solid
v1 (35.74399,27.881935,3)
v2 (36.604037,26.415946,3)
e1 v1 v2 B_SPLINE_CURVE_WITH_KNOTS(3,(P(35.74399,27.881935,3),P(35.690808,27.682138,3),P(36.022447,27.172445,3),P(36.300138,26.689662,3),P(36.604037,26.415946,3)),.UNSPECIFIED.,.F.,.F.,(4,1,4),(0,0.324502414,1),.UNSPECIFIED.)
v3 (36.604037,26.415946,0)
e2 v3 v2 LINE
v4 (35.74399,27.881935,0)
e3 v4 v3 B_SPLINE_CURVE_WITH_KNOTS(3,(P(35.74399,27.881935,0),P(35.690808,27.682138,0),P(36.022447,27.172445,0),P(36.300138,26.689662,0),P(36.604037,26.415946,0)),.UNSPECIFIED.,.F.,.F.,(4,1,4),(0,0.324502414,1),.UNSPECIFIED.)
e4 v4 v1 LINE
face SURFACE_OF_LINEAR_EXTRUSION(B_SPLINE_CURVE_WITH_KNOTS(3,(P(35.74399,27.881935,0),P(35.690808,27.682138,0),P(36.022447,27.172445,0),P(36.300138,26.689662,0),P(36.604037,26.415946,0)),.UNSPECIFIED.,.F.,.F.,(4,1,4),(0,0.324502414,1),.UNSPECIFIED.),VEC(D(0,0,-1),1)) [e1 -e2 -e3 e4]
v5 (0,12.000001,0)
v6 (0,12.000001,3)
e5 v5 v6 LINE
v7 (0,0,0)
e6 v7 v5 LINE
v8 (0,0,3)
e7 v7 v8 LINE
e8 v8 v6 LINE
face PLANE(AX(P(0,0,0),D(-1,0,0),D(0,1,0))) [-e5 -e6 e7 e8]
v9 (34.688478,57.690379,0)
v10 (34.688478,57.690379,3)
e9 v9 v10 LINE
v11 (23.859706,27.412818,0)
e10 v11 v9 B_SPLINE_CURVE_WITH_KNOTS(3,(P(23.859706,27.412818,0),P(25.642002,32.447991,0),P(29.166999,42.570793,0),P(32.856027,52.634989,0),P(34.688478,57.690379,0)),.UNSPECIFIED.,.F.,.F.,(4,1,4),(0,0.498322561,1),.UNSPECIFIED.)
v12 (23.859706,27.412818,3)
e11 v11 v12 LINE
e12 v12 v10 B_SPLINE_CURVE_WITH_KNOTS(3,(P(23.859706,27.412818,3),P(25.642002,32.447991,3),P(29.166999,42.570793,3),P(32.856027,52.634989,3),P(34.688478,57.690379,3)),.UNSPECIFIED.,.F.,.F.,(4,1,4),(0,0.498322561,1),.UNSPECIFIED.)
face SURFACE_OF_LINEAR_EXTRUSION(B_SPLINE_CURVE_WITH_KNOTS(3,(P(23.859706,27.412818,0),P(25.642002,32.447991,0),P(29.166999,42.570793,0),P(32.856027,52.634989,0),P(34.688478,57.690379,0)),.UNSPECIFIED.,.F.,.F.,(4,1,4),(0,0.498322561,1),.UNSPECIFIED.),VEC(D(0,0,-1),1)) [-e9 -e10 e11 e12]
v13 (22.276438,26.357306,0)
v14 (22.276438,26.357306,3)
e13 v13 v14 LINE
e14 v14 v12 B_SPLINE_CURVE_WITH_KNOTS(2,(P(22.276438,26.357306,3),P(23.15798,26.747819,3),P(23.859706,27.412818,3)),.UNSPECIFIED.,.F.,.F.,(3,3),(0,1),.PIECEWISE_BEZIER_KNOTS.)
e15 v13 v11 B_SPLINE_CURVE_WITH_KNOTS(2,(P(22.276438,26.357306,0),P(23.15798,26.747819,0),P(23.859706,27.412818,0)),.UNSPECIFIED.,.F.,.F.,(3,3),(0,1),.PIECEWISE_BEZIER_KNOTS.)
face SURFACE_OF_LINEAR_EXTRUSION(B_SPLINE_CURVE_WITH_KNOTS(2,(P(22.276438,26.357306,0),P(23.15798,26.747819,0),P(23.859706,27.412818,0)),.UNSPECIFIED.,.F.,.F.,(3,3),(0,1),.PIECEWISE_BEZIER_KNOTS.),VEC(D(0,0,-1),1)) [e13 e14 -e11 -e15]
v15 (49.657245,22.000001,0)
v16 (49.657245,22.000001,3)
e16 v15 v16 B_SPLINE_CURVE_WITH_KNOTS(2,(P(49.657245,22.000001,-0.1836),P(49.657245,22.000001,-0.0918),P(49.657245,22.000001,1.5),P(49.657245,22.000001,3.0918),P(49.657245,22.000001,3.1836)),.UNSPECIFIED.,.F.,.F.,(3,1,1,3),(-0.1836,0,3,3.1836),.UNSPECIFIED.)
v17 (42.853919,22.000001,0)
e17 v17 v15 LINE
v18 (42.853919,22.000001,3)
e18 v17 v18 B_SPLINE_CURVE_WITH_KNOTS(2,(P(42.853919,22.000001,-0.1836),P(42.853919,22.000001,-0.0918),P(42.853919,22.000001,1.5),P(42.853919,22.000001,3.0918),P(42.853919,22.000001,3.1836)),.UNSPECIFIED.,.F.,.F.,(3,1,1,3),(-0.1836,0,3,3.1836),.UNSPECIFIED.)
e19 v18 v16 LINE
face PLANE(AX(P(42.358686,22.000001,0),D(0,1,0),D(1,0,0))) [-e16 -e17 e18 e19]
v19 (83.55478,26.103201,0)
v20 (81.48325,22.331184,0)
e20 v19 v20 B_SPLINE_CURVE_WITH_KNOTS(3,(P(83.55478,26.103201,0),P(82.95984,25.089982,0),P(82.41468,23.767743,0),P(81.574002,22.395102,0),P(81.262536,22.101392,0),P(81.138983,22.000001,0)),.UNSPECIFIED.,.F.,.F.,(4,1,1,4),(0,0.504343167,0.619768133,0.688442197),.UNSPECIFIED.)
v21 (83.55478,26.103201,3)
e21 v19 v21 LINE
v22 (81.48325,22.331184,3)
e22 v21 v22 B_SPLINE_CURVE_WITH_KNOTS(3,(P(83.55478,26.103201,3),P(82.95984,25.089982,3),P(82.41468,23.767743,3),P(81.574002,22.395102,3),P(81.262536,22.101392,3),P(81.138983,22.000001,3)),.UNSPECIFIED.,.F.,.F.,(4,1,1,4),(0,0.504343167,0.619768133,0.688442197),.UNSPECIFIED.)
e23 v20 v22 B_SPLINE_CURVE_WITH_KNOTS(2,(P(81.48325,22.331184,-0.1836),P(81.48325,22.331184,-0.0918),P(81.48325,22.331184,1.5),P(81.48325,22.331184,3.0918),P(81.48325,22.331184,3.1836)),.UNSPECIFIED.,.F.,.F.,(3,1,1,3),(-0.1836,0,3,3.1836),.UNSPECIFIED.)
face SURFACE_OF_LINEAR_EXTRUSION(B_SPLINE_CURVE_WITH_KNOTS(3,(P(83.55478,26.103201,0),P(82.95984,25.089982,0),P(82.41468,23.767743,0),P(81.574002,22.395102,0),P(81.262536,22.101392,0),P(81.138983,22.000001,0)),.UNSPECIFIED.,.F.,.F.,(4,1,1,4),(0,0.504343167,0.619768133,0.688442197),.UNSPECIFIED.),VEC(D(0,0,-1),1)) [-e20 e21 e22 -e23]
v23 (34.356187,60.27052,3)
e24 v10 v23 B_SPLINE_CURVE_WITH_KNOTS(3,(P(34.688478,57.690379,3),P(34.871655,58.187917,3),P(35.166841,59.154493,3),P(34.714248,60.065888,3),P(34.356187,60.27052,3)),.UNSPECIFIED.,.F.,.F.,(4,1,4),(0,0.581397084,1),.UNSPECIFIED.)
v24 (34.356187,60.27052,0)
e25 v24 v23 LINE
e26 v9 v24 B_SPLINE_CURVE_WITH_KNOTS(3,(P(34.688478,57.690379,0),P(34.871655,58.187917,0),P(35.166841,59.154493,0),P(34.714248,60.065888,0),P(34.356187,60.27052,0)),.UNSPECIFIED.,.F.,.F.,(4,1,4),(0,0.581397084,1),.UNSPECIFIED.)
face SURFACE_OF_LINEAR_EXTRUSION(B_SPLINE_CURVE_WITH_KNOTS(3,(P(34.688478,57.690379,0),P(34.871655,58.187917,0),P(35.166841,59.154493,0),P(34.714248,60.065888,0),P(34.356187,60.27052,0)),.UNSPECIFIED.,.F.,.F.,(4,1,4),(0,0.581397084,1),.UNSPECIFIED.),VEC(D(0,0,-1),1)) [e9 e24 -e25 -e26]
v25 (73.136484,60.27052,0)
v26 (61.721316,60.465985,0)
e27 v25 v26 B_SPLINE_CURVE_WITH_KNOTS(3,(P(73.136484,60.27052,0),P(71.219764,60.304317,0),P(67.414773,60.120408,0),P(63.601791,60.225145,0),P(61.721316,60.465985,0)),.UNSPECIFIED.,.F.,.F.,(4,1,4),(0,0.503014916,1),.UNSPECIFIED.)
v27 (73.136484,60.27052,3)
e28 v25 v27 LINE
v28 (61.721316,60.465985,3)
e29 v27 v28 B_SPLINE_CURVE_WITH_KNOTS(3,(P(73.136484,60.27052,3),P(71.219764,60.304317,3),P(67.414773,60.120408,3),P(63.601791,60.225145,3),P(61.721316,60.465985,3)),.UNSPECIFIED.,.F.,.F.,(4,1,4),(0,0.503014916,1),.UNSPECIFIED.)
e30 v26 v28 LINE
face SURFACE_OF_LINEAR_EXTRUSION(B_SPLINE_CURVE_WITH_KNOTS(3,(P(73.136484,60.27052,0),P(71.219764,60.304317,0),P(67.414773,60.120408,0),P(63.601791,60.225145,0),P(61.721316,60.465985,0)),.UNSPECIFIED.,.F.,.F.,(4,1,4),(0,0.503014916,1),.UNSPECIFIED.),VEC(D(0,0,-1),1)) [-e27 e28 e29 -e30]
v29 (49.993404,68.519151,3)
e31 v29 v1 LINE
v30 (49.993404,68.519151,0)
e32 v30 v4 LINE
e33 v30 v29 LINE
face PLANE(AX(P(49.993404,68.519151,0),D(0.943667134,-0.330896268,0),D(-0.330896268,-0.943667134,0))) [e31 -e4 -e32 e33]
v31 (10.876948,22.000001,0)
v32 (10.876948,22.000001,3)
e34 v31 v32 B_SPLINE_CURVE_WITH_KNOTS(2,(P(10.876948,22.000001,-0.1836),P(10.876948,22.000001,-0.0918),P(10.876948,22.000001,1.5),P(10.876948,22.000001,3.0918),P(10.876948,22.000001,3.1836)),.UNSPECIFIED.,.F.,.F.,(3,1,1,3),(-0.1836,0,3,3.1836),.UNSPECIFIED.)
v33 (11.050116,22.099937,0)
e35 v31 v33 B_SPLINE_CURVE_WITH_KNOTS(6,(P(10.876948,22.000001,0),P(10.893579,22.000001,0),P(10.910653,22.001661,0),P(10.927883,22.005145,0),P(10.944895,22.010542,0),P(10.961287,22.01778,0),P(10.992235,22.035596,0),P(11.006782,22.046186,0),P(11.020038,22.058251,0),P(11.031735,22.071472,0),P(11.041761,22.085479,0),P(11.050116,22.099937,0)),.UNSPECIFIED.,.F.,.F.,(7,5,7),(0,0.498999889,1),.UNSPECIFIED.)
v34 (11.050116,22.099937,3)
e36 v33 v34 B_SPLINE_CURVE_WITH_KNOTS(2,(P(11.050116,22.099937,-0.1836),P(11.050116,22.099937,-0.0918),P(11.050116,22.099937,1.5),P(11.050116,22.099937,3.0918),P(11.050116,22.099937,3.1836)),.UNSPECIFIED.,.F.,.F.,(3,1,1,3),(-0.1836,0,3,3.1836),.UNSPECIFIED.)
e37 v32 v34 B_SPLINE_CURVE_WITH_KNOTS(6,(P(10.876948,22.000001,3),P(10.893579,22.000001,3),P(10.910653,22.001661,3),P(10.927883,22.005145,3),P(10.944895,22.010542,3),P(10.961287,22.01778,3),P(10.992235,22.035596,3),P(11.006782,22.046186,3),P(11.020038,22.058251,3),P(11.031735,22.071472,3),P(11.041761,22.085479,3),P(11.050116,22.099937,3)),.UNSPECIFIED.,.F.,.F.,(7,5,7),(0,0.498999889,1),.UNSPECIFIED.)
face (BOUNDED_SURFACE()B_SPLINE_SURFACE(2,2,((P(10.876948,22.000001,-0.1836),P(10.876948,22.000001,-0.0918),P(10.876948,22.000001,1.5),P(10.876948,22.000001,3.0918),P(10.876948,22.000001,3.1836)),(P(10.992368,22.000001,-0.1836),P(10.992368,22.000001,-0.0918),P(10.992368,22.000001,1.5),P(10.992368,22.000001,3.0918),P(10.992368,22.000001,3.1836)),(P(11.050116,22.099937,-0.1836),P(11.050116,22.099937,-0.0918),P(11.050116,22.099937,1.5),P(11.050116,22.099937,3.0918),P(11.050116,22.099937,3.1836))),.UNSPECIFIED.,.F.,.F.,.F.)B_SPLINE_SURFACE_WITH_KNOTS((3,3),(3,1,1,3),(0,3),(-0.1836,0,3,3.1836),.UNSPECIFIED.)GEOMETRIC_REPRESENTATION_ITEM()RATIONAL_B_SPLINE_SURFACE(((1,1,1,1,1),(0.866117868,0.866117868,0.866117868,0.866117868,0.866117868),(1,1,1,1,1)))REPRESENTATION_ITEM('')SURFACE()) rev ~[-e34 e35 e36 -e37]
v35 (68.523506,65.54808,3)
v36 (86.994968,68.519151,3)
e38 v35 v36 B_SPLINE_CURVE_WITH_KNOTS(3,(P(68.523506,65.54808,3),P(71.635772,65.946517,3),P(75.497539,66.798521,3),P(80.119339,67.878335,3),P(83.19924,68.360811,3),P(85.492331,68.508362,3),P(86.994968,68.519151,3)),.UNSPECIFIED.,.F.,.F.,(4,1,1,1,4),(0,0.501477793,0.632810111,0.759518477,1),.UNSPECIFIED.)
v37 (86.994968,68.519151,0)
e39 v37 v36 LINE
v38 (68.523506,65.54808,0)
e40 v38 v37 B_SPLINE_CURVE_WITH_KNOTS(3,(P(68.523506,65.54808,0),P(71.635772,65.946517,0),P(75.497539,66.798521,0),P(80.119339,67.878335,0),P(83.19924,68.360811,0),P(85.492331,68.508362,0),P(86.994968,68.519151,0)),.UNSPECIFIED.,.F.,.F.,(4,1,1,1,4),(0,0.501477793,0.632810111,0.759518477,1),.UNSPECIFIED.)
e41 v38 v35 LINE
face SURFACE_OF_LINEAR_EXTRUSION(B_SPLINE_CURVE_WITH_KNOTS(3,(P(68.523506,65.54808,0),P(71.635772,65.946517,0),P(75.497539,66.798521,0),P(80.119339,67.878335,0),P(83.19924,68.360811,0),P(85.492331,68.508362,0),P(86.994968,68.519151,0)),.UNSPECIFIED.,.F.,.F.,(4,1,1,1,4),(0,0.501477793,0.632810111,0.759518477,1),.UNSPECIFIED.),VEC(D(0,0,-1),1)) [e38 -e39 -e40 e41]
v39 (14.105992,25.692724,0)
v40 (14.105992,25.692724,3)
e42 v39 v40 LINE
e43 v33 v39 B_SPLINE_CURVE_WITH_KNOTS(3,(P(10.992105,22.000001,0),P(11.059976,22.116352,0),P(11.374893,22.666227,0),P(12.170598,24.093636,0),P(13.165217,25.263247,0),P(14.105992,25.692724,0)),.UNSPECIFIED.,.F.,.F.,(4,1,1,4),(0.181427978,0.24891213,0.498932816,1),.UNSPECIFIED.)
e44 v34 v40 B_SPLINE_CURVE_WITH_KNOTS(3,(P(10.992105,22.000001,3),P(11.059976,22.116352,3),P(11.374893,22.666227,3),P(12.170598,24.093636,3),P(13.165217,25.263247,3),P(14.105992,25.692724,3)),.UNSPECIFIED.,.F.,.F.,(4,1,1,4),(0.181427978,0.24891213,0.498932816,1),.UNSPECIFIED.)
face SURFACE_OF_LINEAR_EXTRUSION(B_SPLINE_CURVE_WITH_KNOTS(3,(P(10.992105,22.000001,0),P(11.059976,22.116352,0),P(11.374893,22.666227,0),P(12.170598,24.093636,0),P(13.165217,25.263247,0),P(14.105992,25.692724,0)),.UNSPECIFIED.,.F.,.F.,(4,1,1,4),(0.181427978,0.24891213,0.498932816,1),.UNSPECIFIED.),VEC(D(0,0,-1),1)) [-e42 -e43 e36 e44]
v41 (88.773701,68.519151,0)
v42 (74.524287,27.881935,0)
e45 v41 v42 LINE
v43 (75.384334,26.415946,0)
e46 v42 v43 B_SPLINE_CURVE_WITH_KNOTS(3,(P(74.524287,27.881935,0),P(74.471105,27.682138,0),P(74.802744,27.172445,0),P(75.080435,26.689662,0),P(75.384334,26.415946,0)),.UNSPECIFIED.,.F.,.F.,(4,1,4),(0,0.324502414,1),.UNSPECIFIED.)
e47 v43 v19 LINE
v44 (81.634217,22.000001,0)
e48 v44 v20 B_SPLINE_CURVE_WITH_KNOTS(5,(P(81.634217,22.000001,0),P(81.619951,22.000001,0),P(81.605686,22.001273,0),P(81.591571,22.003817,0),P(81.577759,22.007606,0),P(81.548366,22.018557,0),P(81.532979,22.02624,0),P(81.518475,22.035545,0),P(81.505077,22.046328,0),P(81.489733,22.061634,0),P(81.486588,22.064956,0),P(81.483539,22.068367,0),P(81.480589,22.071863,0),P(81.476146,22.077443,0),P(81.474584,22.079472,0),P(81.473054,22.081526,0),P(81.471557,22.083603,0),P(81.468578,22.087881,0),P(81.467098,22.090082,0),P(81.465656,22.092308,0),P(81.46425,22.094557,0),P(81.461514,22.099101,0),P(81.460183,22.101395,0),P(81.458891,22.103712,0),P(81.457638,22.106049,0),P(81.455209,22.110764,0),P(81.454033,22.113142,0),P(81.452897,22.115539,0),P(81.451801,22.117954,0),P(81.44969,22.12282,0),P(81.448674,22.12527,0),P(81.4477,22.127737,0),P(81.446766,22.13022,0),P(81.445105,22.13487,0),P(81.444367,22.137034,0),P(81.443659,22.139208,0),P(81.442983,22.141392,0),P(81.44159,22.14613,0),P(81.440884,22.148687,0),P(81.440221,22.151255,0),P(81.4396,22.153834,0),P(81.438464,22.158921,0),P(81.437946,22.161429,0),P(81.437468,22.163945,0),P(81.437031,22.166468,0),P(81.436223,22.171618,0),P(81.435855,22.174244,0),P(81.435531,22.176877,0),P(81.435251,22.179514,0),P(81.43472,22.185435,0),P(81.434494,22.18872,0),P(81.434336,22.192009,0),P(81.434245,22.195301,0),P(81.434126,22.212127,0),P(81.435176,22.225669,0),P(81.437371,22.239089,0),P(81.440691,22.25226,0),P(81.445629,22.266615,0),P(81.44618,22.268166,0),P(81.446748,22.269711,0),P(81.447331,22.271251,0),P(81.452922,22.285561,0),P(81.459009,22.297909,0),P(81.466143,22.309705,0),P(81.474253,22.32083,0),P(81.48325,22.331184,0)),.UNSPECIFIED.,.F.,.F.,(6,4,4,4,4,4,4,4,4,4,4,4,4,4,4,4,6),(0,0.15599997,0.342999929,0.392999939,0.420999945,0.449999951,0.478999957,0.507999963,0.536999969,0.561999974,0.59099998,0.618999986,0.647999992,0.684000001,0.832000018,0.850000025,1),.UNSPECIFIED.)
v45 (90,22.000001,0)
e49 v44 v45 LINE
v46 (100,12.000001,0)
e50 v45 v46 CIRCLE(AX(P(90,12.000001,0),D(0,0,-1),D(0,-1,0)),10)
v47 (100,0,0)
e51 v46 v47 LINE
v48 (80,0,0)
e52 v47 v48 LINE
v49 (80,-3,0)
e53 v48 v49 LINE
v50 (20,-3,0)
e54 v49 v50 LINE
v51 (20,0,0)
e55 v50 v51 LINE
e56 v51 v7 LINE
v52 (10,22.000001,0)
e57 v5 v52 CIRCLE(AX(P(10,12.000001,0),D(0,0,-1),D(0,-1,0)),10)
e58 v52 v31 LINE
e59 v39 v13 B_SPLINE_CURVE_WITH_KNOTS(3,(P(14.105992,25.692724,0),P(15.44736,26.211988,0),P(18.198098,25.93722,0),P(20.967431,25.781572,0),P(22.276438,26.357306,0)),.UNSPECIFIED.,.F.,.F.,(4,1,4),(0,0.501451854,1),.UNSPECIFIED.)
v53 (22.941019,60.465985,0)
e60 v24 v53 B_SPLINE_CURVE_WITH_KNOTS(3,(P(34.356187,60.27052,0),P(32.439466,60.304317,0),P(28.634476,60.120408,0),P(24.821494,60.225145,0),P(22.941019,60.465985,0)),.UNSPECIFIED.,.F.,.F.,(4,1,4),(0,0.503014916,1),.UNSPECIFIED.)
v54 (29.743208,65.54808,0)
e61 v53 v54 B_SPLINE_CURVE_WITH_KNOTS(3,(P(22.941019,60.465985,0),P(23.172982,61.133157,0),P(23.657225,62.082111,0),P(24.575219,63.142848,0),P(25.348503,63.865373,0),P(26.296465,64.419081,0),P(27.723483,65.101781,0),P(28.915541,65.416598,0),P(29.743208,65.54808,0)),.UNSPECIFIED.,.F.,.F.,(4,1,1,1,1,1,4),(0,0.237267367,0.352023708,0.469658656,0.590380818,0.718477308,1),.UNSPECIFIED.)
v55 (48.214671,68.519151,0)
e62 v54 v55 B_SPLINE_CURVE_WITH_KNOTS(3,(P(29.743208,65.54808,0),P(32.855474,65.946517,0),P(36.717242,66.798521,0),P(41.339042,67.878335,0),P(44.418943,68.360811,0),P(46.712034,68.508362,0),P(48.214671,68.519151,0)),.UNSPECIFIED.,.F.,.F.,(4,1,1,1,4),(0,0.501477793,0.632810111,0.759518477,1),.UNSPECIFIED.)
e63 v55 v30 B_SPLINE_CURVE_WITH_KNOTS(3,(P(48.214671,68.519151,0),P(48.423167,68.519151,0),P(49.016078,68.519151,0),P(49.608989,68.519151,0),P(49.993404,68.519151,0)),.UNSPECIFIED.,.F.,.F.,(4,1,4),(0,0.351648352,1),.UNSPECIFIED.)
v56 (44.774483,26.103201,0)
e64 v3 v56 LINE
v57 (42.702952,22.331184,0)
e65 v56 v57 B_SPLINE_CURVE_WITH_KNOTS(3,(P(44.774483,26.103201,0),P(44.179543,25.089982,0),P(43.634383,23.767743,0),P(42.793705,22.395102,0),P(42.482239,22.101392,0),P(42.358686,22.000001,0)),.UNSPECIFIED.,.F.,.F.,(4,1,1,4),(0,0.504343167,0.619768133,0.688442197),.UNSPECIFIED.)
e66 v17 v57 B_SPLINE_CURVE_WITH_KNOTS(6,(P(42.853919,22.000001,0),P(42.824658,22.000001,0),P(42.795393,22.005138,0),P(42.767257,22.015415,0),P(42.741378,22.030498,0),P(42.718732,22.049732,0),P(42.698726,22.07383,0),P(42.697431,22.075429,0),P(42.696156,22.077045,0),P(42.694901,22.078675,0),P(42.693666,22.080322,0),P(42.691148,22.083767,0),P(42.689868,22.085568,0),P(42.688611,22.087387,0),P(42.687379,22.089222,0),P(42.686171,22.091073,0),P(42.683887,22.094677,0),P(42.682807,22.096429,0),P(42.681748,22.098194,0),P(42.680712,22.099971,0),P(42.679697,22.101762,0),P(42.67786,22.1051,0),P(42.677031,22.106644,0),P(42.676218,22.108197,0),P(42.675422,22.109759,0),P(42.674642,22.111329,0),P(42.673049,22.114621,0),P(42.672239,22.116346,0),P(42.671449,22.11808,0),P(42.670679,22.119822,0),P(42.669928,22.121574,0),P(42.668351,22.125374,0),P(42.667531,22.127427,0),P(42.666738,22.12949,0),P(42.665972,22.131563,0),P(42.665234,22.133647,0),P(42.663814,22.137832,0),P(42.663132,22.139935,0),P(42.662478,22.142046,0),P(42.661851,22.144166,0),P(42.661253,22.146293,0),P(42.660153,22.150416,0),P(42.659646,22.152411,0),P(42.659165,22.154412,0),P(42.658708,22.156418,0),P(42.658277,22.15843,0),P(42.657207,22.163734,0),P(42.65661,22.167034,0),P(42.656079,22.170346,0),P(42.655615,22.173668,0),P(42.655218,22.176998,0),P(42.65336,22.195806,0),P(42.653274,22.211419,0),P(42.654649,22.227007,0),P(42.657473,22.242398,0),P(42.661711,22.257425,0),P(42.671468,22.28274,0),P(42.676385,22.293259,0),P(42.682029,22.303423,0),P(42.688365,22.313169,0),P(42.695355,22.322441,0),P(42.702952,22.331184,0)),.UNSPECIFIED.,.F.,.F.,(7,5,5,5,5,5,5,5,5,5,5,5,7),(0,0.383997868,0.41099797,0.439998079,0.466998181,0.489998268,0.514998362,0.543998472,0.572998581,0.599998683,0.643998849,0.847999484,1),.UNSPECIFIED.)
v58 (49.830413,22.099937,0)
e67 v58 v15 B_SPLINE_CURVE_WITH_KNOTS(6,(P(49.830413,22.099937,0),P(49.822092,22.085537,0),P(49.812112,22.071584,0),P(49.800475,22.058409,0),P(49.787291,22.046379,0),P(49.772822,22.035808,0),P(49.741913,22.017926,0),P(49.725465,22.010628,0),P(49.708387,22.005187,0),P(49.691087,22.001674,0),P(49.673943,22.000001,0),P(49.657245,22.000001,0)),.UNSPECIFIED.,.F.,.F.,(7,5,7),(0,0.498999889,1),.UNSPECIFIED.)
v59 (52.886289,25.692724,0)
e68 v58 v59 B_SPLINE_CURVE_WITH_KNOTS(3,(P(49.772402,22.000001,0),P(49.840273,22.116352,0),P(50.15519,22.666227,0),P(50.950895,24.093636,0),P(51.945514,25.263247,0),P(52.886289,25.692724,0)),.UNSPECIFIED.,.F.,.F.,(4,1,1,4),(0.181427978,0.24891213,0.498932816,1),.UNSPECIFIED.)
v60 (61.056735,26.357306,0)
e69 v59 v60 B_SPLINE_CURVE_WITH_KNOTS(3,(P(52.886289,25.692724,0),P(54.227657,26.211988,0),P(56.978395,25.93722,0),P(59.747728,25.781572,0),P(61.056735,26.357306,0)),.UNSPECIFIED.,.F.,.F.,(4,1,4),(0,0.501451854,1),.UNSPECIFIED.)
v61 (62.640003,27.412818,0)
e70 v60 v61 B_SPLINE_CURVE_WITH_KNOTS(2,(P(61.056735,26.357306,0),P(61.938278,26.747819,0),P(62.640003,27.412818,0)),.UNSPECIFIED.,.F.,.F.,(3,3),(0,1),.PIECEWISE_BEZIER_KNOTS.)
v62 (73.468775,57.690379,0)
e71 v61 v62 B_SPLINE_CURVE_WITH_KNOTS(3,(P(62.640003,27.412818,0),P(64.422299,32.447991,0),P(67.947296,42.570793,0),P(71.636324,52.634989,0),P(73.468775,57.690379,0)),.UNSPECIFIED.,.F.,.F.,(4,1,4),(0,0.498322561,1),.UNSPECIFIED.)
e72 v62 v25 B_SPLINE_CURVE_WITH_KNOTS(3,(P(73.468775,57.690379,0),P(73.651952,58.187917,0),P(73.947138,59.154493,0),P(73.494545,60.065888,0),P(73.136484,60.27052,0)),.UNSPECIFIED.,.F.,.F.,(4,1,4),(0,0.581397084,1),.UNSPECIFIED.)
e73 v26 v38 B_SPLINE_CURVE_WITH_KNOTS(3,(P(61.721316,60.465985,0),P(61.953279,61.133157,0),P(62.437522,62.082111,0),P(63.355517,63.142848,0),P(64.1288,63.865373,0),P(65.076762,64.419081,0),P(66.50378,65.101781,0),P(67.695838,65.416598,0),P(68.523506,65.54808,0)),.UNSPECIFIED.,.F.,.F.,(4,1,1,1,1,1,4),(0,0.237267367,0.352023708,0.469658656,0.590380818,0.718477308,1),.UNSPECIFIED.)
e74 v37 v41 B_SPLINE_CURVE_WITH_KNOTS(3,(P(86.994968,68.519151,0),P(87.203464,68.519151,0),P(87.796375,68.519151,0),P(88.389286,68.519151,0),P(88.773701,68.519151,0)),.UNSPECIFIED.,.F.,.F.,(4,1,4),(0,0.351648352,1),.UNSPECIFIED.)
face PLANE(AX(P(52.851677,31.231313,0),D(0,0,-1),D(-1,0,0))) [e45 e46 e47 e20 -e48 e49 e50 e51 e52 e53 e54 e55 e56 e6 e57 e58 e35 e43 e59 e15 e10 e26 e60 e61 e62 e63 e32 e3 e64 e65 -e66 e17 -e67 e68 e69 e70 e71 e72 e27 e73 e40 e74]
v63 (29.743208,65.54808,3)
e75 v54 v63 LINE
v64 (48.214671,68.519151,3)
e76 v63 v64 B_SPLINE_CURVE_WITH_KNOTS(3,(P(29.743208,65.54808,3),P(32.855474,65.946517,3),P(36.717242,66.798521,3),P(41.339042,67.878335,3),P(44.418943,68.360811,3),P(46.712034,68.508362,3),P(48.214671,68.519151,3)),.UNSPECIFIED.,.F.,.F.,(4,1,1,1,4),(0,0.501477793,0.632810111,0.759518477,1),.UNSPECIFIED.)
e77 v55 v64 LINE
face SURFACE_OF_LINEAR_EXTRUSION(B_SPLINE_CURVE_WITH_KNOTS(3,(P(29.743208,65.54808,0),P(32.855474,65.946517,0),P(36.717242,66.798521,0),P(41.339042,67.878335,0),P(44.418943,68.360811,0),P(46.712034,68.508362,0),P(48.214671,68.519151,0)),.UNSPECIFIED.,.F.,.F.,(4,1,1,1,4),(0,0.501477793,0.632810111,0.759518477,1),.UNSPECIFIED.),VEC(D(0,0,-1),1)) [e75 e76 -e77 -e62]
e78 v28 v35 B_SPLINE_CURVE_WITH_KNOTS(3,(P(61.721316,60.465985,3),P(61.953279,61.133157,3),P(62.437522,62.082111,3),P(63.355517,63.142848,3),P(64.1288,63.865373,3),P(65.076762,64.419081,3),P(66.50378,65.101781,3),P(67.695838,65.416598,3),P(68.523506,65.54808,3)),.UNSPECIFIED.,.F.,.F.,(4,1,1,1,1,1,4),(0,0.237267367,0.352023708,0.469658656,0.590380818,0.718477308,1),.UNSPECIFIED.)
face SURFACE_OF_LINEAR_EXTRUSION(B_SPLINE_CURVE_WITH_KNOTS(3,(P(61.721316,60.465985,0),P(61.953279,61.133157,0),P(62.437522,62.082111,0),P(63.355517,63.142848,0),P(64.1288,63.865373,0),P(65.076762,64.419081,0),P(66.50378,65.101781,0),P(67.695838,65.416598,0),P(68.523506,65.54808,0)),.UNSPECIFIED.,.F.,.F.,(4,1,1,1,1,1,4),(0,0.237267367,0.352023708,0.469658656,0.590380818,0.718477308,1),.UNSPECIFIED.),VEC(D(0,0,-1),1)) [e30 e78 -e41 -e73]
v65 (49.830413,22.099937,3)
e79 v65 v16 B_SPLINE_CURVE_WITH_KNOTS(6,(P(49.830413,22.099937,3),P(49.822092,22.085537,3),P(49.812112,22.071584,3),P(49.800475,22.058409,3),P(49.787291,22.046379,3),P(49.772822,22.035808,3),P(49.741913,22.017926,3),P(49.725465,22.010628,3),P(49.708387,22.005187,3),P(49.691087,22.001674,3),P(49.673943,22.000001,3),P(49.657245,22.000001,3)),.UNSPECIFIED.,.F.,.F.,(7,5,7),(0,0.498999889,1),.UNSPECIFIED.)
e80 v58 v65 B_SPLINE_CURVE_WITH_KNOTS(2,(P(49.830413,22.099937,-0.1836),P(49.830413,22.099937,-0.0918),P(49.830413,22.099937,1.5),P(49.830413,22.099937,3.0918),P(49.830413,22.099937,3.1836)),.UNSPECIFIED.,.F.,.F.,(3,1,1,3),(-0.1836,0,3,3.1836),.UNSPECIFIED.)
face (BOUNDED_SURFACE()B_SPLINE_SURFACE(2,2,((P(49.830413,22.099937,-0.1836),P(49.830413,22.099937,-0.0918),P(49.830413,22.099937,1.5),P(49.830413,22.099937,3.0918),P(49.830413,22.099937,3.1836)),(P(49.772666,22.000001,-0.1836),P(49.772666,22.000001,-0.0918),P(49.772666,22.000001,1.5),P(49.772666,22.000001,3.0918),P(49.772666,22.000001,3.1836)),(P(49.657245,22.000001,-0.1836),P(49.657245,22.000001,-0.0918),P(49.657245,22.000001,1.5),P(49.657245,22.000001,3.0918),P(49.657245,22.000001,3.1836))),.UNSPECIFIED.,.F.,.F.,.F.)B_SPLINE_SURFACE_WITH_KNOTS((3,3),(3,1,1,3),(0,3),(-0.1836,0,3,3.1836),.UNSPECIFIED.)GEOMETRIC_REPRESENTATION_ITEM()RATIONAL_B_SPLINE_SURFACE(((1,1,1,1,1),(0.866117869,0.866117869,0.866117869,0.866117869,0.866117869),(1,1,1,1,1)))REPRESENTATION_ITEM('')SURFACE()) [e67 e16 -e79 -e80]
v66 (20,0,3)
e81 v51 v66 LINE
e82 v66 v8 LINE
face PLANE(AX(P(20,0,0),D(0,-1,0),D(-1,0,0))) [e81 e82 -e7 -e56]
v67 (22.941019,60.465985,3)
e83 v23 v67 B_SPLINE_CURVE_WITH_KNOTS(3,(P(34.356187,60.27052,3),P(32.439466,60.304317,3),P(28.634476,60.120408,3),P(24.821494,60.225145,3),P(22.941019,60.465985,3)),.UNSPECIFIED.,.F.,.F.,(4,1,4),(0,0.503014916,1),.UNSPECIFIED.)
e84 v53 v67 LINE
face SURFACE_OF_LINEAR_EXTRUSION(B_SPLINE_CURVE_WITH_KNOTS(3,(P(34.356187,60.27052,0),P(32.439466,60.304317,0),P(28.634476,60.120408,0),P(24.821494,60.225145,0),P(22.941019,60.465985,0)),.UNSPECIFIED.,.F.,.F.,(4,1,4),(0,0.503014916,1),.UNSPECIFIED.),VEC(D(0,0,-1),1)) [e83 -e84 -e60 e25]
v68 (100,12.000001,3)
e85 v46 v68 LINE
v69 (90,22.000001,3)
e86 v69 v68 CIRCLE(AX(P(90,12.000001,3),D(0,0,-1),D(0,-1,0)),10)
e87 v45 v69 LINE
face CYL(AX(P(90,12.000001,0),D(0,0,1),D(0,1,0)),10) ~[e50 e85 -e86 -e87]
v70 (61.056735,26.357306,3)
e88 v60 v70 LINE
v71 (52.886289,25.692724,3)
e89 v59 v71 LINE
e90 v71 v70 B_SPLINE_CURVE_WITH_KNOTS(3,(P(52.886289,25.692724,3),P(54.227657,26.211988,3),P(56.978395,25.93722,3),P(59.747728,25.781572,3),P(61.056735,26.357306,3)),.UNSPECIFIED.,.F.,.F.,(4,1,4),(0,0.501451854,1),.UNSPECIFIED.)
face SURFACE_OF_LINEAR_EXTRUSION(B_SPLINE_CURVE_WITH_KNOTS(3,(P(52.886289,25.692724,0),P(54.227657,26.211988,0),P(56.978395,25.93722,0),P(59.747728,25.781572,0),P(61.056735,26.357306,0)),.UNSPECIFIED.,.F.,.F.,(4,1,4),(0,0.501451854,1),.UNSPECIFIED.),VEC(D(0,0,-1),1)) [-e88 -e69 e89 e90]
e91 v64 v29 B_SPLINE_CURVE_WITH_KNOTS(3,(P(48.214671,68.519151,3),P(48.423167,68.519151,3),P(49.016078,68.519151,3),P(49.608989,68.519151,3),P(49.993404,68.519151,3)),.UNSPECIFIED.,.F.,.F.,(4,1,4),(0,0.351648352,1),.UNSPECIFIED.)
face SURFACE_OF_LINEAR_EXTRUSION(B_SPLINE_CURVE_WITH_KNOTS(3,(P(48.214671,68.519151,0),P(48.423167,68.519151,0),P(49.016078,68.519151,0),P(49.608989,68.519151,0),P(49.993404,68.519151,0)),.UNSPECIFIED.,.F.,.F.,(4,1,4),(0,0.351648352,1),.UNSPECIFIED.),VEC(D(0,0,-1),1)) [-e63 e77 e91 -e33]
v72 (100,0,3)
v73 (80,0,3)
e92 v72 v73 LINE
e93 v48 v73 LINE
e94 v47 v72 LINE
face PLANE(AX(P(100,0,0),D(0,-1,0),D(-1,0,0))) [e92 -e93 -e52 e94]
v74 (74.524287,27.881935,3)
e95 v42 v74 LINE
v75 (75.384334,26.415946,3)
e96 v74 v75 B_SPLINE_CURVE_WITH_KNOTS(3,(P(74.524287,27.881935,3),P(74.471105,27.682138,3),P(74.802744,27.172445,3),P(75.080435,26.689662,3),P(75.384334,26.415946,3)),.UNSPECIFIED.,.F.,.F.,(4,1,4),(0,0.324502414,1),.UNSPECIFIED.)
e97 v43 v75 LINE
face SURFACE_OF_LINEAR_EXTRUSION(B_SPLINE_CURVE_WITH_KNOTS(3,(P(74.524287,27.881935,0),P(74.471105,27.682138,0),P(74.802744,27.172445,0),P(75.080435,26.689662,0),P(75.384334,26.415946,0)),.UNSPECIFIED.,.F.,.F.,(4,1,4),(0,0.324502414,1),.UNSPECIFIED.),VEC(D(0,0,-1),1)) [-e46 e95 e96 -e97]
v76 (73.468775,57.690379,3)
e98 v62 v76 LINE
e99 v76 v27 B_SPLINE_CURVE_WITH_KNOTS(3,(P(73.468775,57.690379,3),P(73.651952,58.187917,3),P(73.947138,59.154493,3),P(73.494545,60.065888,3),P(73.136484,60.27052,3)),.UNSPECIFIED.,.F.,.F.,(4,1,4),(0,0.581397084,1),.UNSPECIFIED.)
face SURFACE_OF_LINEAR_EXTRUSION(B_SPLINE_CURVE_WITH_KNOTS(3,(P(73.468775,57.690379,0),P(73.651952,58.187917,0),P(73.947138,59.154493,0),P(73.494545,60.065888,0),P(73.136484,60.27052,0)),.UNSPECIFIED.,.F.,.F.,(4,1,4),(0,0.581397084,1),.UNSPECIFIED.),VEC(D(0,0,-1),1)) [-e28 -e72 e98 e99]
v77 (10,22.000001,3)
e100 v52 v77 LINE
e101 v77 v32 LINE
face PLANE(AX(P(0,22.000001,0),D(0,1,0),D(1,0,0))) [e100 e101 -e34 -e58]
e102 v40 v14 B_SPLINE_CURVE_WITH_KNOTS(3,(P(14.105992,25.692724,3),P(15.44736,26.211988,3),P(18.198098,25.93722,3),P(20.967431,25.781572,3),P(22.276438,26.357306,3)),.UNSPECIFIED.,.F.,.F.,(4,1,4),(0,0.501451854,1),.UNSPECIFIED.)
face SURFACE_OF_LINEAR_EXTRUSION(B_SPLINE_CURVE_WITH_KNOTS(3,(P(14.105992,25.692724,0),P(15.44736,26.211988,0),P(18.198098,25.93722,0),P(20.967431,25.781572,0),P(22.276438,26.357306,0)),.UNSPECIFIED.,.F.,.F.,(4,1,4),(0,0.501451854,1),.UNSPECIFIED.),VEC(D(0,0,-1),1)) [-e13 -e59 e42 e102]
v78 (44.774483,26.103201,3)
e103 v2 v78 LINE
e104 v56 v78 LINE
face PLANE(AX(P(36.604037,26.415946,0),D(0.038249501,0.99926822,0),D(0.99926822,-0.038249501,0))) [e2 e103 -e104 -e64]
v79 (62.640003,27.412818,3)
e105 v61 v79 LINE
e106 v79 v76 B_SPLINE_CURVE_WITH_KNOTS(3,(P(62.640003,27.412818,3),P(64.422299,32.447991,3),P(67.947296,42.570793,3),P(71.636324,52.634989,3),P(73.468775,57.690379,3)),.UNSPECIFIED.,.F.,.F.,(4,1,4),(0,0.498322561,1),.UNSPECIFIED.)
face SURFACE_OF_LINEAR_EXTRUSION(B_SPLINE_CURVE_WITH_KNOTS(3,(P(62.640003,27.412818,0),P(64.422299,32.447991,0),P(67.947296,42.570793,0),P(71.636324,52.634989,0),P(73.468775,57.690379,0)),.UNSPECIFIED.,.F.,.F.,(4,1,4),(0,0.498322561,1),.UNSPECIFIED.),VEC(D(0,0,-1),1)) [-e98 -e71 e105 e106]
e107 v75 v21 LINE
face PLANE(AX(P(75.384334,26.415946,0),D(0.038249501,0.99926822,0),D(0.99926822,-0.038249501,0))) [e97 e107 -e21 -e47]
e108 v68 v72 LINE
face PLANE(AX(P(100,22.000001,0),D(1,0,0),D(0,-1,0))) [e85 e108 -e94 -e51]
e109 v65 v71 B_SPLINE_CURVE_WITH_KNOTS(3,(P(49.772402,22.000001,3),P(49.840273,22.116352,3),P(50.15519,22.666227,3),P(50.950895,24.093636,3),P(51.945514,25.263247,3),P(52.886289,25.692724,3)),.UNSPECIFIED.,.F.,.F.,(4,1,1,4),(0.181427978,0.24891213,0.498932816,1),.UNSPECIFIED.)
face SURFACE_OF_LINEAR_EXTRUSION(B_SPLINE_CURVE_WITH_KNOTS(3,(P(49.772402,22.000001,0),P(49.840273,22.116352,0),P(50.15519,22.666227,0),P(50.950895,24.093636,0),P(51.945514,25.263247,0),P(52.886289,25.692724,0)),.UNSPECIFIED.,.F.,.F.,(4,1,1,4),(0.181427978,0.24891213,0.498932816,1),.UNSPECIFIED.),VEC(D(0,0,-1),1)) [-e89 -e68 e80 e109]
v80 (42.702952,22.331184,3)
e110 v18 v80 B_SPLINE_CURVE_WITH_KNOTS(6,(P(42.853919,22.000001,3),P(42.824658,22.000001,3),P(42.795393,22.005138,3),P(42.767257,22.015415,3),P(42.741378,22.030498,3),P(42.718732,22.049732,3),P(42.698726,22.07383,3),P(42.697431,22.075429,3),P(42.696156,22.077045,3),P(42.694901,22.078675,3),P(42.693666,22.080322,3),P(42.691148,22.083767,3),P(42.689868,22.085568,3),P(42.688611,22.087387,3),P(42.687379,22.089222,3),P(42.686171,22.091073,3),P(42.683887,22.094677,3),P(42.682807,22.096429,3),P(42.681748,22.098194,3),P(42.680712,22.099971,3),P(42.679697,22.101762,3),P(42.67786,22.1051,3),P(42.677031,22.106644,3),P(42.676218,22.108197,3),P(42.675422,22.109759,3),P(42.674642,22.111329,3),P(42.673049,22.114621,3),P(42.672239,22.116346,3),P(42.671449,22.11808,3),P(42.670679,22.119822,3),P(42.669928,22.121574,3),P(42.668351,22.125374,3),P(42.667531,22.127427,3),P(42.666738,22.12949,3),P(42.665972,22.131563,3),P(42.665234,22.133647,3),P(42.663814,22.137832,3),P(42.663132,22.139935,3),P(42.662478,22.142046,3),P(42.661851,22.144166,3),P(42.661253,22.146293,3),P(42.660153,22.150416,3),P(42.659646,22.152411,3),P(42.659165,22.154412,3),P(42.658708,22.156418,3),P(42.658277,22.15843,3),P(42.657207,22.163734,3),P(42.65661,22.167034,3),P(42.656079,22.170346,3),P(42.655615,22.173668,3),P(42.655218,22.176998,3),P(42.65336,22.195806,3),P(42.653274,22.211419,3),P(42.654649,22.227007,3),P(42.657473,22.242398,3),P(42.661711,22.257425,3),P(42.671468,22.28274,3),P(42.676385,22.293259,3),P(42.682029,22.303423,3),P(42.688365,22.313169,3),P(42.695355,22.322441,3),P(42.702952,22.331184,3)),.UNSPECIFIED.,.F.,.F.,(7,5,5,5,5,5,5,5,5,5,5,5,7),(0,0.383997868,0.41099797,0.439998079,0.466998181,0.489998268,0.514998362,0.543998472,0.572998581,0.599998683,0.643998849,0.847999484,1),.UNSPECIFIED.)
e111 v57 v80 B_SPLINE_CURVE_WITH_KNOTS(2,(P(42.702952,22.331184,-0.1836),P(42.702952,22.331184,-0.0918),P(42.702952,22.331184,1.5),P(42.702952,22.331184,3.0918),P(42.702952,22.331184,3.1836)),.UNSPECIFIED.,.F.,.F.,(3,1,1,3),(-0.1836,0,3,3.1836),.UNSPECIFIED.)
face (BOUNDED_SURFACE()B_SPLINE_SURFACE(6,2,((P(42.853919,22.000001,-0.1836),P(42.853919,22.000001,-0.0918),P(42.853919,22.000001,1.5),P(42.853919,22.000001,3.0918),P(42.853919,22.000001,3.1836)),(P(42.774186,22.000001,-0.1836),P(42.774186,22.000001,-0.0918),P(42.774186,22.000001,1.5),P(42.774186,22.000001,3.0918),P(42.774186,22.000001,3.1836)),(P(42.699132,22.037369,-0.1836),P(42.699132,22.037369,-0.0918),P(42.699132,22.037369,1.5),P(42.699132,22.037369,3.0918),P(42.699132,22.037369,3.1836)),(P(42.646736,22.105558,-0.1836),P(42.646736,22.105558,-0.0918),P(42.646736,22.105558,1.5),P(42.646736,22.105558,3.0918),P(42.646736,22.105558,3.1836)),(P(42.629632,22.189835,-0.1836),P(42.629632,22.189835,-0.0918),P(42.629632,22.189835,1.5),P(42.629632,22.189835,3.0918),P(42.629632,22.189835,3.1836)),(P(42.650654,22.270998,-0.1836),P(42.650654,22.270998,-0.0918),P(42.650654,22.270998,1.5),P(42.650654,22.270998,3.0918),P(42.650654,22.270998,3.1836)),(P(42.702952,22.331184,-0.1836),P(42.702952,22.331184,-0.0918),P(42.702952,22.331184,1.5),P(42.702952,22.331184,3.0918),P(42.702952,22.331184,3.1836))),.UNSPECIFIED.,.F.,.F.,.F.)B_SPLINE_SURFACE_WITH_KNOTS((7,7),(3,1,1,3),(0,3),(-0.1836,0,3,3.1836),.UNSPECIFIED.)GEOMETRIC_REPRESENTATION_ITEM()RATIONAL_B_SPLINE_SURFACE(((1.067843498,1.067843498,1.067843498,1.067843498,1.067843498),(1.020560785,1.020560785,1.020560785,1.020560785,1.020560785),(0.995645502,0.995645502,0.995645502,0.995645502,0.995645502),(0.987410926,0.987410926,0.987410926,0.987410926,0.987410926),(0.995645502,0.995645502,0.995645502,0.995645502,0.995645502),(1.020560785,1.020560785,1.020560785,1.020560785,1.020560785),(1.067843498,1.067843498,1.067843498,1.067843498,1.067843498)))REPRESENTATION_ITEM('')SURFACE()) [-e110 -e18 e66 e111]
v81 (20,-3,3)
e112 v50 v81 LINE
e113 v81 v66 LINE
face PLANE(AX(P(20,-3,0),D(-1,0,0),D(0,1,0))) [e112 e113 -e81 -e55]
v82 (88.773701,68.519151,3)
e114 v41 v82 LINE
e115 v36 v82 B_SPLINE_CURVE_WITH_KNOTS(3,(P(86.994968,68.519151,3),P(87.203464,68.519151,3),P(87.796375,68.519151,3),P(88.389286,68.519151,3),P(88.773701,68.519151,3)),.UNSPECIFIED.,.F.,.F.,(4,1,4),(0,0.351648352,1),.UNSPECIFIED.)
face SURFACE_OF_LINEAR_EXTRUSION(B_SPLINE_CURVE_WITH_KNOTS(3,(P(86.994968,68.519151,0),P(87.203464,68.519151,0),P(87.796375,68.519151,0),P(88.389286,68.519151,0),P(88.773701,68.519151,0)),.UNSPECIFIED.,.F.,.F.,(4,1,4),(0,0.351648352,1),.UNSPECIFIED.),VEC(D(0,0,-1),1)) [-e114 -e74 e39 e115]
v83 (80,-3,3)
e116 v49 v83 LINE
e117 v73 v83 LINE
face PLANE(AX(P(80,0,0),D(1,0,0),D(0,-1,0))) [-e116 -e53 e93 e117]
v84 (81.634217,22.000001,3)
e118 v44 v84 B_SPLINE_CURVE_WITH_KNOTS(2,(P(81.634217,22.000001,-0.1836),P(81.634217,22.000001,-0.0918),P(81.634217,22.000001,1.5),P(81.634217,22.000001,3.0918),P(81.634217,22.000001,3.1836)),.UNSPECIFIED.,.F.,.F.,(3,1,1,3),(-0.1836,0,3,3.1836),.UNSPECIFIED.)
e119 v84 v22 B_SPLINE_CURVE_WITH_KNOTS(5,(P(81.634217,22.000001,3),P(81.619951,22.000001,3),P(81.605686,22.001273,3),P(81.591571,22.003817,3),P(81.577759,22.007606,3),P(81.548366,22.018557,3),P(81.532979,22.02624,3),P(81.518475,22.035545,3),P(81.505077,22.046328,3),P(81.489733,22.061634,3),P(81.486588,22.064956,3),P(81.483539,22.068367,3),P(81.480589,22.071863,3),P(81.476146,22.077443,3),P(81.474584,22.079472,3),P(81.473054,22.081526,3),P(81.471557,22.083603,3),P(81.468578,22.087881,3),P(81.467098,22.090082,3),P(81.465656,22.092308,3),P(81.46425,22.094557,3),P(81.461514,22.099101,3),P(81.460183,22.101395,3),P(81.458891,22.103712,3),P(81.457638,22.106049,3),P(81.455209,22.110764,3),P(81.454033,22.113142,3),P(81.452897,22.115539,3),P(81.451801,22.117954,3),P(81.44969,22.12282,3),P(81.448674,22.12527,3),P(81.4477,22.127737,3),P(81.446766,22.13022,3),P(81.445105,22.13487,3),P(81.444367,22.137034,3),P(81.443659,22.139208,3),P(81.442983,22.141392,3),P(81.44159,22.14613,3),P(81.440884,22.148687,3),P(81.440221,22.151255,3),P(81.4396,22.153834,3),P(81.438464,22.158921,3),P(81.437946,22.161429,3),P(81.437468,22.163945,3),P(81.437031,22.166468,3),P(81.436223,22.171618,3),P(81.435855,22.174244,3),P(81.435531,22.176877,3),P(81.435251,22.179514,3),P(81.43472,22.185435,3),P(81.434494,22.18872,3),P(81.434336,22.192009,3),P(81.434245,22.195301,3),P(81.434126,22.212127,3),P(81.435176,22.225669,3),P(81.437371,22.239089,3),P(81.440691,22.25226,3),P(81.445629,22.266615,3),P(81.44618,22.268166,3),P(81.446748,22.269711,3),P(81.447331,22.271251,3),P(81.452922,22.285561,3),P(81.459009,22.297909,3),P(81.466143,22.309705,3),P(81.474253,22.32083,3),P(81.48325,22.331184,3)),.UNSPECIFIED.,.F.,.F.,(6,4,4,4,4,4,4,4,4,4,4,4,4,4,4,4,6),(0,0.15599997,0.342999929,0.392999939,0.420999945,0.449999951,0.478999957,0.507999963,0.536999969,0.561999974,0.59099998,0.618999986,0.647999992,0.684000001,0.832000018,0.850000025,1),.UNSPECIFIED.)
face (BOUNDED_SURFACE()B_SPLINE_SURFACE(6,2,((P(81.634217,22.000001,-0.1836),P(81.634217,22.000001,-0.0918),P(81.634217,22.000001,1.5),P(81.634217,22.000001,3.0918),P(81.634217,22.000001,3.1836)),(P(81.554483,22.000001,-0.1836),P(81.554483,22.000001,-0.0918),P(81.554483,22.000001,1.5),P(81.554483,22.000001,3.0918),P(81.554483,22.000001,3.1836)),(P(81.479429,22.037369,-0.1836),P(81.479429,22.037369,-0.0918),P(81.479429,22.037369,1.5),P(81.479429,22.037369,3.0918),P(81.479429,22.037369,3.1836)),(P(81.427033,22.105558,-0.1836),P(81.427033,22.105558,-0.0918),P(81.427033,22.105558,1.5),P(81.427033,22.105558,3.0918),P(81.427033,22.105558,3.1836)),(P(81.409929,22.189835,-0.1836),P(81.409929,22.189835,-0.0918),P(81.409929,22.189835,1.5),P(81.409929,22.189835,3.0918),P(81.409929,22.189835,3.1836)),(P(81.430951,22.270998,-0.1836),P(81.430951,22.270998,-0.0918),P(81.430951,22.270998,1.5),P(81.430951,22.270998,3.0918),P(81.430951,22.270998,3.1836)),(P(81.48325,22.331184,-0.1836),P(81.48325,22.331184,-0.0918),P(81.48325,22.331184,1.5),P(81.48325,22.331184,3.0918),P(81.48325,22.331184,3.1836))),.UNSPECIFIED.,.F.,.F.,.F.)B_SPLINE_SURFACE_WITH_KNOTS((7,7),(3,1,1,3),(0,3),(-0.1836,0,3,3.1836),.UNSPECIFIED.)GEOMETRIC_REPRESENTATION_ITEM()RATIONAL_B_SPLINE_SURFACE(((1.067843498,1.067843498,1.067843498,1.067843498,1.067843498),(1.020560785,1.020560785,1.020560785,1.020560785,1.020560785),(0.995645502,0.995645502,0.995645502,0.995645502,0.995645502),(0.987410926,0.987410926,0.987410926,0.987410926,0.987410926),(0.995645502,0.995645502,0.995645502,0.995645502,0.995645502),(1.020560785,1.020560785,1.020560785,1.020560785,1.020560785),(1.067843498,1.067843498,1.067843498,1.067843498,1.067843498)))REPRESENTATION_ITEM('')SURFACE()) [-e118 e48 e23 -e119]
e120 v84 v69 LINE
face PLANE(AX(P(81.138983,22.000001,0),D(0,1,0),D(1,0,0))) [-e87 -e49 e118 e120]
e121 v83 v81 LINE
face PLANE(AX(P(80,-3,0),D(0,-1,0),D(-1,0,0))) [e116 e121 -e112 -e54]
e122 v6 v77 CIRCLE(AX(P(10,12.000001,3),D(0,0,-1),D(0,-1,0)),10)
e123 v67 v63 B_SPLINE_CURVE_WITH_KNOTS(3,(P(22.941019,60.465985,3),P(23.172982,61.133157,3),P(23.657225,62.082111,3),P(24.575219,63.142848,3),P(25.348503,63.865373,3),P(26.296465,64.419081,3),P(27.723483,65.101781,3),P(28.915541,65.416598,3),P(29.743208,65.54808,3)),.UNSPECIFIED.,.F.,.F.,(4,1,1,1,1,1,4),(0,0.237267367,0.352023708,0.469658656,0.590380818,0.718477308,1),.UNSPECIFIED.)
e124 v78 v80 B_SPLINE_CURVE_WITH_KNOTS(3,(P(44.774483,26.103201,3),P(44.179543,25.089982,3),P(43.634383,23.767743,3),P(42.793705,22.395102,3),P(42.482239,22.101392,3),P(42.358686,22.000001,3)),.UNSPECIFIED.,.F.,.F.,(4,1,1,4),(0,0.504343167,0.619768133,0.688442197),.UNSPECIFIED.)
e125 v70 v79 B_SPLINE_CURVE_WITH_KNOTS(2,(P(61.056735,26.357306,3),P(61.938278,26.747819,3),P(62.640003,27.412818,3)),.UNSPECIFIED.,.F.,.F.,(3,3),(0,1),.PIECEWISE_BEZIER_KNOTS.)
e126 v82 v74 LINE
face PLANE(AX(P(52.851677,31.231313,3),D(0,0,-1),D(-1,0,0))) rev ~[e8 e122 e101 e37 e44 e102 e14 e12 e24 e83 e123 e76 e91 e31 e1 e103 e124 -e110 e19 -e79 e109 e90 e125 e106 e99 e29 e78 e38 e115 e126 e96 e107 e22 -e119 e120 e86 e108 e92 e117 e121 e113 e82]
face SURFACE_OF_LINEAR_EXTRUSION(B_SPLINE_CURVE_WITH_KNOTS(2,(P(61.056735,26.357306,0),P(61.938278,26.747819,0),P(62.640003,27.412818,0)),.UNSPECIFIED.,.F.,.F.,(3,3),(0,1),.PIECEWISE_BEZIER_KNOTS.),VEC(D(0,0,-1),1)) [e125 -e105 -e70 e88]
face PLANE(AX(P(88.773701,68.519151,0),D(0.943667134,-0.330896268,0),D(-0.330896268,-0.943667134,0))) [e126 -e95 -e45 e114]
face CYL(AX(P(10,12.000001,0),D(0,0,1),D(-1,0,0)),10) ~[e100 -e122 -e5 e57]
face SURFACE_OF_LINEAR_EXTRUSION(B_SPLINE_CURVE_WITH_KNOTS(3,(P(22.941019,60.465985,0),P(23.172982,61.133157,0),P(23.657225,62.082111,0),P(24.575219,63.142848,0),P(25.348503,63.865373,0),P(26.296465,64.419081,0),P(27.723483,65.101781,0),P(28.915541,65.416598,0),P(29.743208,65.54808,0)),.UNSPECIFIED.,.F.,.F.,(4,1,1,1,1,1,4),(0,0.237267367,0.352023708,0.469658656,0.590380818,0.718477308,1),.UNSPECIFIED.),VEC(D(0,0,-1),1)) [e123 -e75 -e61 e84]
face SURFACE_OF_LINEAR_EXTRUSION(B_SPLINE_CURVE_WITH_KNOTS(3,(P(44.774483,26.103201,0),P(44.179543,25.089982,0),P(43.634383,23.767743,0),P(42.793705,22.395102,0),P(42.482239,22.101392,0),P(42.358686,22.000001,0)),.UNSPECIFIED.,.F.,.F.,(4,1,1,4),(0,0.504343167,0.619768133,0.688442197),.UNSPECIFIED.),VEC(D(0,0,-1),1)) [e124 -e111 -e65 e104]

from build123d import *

# Parameters (mm, degrees)
BOSS_EXTRUDE1_DEPTH = 3
FILLET1_R           = 10
FILLET2_R           = 0.2


with BuildPart() as part:
    # Sketch1 → Boss-Extrude1 (new body)
    with BuildSketch(Plane.XY):
        with BuildLine():
            Line((42.358686368, 22.000000982), (49.772401671, 22.000000982))
            add(Edge.make_bspline(
                [(49.772401671, 22.000000982), (49.840272704, 22.116351885), (50.1551903, 22.666226688), (50.950894785, 24.093636109), (51.94551412, 25.26324692), (52.886288967, 25.69272444)],
                knots=[0.181427978, 0.181427978, 0.181427978, 0.181427978, 0.24891213, 0.498932816, 1, 1, 1, 1], degree=3))
            add(Edge.make_bspline(
                [(52.886288967, 25.69272444), (54.227657261, 26.21198845), (56.978395025, 25.93722039), (59.747728448, 25.781572291), (61.056734627, 26.357306144)],
                knots=[0, 0, 0, 0, 0.501451854, 1, 1, 1, 1], degree=3))
            add(Edge.make_bspline(
                [(61.056734627, 26.357306144), (61.938277564, 26.747818697), (62.640002805, 27.412818263)],
                knots=[0, 0, 0, 1, 1, 1], degree=2))
            add(Edge.make_bspline(
                [(62.640002805, 27.412818263), (64.422298684, 32.447991264), (67.947295887, 42.570792519), (71.63632388, 52.63498927), (73.468775284, 57.690378858)],
                knots=[0, 0, 0, 0, 0.498322561, 1, 1, 1, 1], degree=3))
            add(Edge.make_bspline(
                [(73.468775284, 57.690378858), (73.65195235, 58.18791707), (73.947138477, 59.154492844), (73.494544705, 60.065888317), (73.136484432, 60.270519593)],
                knots=[0, 0, 0, 0, 0.581397084, 1, 1, 1, 1], degree=3))
            add(Edge.make_bspline(
                [(73.136484432, 60.270519593), (71.219763549, 60.304316664), (67.414772669, 60.120408261), (63.601790951, 60.225145139), (61.721316332, 60.4659848)],
                knots=[0, 0, 0, 0, 0.503014916, 1, 1, 1, 1], degree=3))
            add(Edge.make_bspline(
                [(61.721316332, 60.4659848), (61.953278841, 61.133157294), (62.437522451, 62.08211133), (63.355516567, 63.142847502), (64.128800308, 63.865372538), (65.076762001, 64.419081128), (66.503780011, 65.101780751), (67.695837691, 65.416597624), (68.523505542, 65.548080187)],
                knots=[0, 0, 0, 0, 0.237267367, 0.352023708, 0.469658656, 0.590380818, 0.718477308, 1, 1, 1, 1], degree=3))
            add(Edge.make_bspline(
                [(68.523505542, 65.548080187), (71.635771568, 65.94651733), (75.497539161, 66.798521287), (80.119338716, 67.878335493), (83.19923981, 68.360811237), (85.492331103, 68.508361677), (86.994967622, 68.519151336)],
                knots=[0, 0, 0, 0, 0.501477793, 0.632810111, 0.759518477, 1, 1, 1, 1], degree=3))
            add(Edge.make_bspline(
                [(86.994967622, 68.519151336), (87.203463843, 68.519151336), (87.796374971, 68.519151336), (88.3892861, 68.519151336), (88.773701007, 68.519151336)],
                knots=[0, 0, 0, 0, 0.351648352, 1, 1, 1, 1], degree=3))
            Line((88.773701007, 68.519151336), (74.524287403, 27.881934761))
            add(Edge.make_bspline(
                [(74.524287403, 27.881934761), (74.471104748, 27.682138266), (74.802744483, 27.172445206), (75.080434831, 26.689662332), (75.384334314, 26.415945707)],
                knots=[0, 0, 0, 0, 0.324502414, 1, 1, 1, 1], degree=3))
            Line((75.384334314, 26.415945707), (83.554779975, 26.103201375))
            add(Edge.make_bspline(
                [(83.554779975, 26.103201375), (82.959840411, 25.089982249), (82.414680301, 23.767742871), (81.574001976, 22.395101634), (81.262536262, 22.101391942), (81.138983475, 22.000000982)],
                knots=[0, 0, 0, 0, 0.504343167, 0.619768133, 0.688442197, 0.688442197, 0.688442197, 0.688442197], degree=3))
            Line((81.138983475, 22.000000982), (100, 22.000000982))
            Line((100, 22.000000982), (100, 0))
            Line((100, 0), (80, 0))
            Line((80, 0), (80, -3))
            Line((80, -3), (20, -3))
            Line((20, -3), (20, 0))
            Line((20, 0), (0, 0))
            Line((0, 0), (0, 22.000000982))
            Line((0, 22.000000982), (10.992104564, 22.000000982))
            add(Edge.make_bspline(
                [(10.992104564, 22.000000982), (11.059975596, 22.116351885), (11.374893193, 22.666226688), (12.170597678, 24.093636109), (13.165217013, 25.26324692), (14.105991859, 25.69272444)],
                knots=[0.181427978, 0.181427978, 0.181427978, 0.181427978, 0.24891213, 0.498932816, 1, 1, 1, 1], degree=3))
            add(Edge.make_bspline(
                [(14.105991859, 25.69272444), (15.447360154, 26.21198845), (18.198097918, 25.93722039), (20.967431341, 25.781572291), (22.27643752, 26.357306144)],
                knots=[0, 0, 0, 0, 0.501451854, 1, 1, 1, 1], degree=3))
            add(Edge.make_bspline(
                [(22.27643752, 26.357306144), (23.157980457, 26.747818697), (23.859705698, 27.412818263)],
                knots=[0, 0, 0, 1, 1, 1], degree=2))
            add(Edge.make_bspline(
                [(23.859705698, 27.412818263), (25.642001577, 32.447991264), (29.16699878, 42.570792519), (32.856026773, 52.63498927), (34.688478177, 57.690378858)],
                knots=[0, 0, 0, 0, 0.498322561, 1, 1, 1, 1], degree=3))
            add(Edge.make_bspline(
                [(34.688478177, 57.690378858), (34.871655243, 58.18791707), (35.16684137, 59.154492844), (34.714247598, 60.065888317), (34.356187325, 60.270519593)],
                knots=[0, 0, 0, 0, 0.581397084, 1, 1, 1, 1], degree=3))
            add(Edge.make_bspline(
                [(34.356187325, 60.270519593), (32.439466442, 60.304316664), (28.634475562, 60.120408261), (24.821493844, 60.225145139), (22.941019225, 60.4659848)],
                knots=[0, 0, 0, 0, 0.503014916, 1, 1, 1, 1], degree=3))
            add(Edge.make_bspline(
                [(22.941019225, 60.4659848), (23.172981734, 61.133157294), (23.657225344, 62.08211133), (24.57521946, 63.142847502), (25.348503201, 63.865372538), (26.296464893, 64.419081128), (27.723482904, 65.101780751), (28.915540584, 65.416597624), (29.743208435, 65.548080187)],
                knots=[0, 0, 0, 0, 0.237267367, 0.352023708, 0.469658656, 0.590380818, 0.718477308, 1, 1, 1, 1], degree=3))
            add(Edge.make_bspline(
                [(29.743208435, 65.548080187), (32.85547446, 65.94651733), (36.717242054, 66.798521287), (41.339041609, 67.878335493), (44.418942703, 68.360811237), (46.712033996, 68.508361677), (48.214670515, 68.519151336)],
                knots=[0, 0, 0, 0, 0.501477793, 0.632810111, 0.759518477, 1, 1, 1, 1], degree=3))
            add(Edge.make_bspline(
                [(48.214670515, 68.519151336), (48.423166736, 68.519151336), (49.016077864, 68.519151336), (49.608988993, 68.519151336), (49.9934039, 68.519151336)],
                knots=[0, 0, 0, 0, 0.351648352, 1, 1, 1, 1], degree=3))
            Line((49.9934039, 68.519151336), (35.743990296, 27.881934761))
            add(Edge.make_bspline(
                [(35.743990296, 27.881934761), (35.690807641, 27.682138266), (36.022447376, 27.172445206), (36.300137724, 26.689662332), (36.604037207, 26.415945707)],
                knots=[0, 0, 0, 0, 0.324502414, 1, 1, 1, 1], degree=3))
            Line((36.604037207, 26.415945707), (44.774482868, 26.103201375))
            add(Edge.make_bspline(
                [(44.774482868, 26.103201375), (44.179543303, 25.089982249), (43.634383194, 23.767742871), (42.793704869, 22.395101634), (42.482239154, 22.101391942), (42.358686368, 22.000000982)],
                knots=[0, 0, 0, 0, 0.504343167, 0.619768133, 0.688442197, 0.688442197, 0.688442197, 0.688442197], degree=3))
        make_face()
    extrude(amount=BOSS_EXTRUDE1_DEPTH)

    # Fillet1
    fillet1_edges = [part.edges().sort_by_distance(p)[0] for p in [
        (100, 22.000000982, 1.5),
        (0, 22.000000982, 1.5),
    ]]
    fillet(fillet1_edges, radius=FILLET1_R)

    # Fillet2
    fillet2_edges = [part.edges().sort_by_distance(p)[0] for p in [
        (49.772401671, 22.000000982, 1.5),
        (81.138983475, 22.000000982, 1.5),
        (42.358686368, 22.000000982, 1.5),
        (10.992104564, 22.000000982, 1.5),
    ]]
    fillet(fillet2_edges, radius=FILLET2_R)


solid = part.part
